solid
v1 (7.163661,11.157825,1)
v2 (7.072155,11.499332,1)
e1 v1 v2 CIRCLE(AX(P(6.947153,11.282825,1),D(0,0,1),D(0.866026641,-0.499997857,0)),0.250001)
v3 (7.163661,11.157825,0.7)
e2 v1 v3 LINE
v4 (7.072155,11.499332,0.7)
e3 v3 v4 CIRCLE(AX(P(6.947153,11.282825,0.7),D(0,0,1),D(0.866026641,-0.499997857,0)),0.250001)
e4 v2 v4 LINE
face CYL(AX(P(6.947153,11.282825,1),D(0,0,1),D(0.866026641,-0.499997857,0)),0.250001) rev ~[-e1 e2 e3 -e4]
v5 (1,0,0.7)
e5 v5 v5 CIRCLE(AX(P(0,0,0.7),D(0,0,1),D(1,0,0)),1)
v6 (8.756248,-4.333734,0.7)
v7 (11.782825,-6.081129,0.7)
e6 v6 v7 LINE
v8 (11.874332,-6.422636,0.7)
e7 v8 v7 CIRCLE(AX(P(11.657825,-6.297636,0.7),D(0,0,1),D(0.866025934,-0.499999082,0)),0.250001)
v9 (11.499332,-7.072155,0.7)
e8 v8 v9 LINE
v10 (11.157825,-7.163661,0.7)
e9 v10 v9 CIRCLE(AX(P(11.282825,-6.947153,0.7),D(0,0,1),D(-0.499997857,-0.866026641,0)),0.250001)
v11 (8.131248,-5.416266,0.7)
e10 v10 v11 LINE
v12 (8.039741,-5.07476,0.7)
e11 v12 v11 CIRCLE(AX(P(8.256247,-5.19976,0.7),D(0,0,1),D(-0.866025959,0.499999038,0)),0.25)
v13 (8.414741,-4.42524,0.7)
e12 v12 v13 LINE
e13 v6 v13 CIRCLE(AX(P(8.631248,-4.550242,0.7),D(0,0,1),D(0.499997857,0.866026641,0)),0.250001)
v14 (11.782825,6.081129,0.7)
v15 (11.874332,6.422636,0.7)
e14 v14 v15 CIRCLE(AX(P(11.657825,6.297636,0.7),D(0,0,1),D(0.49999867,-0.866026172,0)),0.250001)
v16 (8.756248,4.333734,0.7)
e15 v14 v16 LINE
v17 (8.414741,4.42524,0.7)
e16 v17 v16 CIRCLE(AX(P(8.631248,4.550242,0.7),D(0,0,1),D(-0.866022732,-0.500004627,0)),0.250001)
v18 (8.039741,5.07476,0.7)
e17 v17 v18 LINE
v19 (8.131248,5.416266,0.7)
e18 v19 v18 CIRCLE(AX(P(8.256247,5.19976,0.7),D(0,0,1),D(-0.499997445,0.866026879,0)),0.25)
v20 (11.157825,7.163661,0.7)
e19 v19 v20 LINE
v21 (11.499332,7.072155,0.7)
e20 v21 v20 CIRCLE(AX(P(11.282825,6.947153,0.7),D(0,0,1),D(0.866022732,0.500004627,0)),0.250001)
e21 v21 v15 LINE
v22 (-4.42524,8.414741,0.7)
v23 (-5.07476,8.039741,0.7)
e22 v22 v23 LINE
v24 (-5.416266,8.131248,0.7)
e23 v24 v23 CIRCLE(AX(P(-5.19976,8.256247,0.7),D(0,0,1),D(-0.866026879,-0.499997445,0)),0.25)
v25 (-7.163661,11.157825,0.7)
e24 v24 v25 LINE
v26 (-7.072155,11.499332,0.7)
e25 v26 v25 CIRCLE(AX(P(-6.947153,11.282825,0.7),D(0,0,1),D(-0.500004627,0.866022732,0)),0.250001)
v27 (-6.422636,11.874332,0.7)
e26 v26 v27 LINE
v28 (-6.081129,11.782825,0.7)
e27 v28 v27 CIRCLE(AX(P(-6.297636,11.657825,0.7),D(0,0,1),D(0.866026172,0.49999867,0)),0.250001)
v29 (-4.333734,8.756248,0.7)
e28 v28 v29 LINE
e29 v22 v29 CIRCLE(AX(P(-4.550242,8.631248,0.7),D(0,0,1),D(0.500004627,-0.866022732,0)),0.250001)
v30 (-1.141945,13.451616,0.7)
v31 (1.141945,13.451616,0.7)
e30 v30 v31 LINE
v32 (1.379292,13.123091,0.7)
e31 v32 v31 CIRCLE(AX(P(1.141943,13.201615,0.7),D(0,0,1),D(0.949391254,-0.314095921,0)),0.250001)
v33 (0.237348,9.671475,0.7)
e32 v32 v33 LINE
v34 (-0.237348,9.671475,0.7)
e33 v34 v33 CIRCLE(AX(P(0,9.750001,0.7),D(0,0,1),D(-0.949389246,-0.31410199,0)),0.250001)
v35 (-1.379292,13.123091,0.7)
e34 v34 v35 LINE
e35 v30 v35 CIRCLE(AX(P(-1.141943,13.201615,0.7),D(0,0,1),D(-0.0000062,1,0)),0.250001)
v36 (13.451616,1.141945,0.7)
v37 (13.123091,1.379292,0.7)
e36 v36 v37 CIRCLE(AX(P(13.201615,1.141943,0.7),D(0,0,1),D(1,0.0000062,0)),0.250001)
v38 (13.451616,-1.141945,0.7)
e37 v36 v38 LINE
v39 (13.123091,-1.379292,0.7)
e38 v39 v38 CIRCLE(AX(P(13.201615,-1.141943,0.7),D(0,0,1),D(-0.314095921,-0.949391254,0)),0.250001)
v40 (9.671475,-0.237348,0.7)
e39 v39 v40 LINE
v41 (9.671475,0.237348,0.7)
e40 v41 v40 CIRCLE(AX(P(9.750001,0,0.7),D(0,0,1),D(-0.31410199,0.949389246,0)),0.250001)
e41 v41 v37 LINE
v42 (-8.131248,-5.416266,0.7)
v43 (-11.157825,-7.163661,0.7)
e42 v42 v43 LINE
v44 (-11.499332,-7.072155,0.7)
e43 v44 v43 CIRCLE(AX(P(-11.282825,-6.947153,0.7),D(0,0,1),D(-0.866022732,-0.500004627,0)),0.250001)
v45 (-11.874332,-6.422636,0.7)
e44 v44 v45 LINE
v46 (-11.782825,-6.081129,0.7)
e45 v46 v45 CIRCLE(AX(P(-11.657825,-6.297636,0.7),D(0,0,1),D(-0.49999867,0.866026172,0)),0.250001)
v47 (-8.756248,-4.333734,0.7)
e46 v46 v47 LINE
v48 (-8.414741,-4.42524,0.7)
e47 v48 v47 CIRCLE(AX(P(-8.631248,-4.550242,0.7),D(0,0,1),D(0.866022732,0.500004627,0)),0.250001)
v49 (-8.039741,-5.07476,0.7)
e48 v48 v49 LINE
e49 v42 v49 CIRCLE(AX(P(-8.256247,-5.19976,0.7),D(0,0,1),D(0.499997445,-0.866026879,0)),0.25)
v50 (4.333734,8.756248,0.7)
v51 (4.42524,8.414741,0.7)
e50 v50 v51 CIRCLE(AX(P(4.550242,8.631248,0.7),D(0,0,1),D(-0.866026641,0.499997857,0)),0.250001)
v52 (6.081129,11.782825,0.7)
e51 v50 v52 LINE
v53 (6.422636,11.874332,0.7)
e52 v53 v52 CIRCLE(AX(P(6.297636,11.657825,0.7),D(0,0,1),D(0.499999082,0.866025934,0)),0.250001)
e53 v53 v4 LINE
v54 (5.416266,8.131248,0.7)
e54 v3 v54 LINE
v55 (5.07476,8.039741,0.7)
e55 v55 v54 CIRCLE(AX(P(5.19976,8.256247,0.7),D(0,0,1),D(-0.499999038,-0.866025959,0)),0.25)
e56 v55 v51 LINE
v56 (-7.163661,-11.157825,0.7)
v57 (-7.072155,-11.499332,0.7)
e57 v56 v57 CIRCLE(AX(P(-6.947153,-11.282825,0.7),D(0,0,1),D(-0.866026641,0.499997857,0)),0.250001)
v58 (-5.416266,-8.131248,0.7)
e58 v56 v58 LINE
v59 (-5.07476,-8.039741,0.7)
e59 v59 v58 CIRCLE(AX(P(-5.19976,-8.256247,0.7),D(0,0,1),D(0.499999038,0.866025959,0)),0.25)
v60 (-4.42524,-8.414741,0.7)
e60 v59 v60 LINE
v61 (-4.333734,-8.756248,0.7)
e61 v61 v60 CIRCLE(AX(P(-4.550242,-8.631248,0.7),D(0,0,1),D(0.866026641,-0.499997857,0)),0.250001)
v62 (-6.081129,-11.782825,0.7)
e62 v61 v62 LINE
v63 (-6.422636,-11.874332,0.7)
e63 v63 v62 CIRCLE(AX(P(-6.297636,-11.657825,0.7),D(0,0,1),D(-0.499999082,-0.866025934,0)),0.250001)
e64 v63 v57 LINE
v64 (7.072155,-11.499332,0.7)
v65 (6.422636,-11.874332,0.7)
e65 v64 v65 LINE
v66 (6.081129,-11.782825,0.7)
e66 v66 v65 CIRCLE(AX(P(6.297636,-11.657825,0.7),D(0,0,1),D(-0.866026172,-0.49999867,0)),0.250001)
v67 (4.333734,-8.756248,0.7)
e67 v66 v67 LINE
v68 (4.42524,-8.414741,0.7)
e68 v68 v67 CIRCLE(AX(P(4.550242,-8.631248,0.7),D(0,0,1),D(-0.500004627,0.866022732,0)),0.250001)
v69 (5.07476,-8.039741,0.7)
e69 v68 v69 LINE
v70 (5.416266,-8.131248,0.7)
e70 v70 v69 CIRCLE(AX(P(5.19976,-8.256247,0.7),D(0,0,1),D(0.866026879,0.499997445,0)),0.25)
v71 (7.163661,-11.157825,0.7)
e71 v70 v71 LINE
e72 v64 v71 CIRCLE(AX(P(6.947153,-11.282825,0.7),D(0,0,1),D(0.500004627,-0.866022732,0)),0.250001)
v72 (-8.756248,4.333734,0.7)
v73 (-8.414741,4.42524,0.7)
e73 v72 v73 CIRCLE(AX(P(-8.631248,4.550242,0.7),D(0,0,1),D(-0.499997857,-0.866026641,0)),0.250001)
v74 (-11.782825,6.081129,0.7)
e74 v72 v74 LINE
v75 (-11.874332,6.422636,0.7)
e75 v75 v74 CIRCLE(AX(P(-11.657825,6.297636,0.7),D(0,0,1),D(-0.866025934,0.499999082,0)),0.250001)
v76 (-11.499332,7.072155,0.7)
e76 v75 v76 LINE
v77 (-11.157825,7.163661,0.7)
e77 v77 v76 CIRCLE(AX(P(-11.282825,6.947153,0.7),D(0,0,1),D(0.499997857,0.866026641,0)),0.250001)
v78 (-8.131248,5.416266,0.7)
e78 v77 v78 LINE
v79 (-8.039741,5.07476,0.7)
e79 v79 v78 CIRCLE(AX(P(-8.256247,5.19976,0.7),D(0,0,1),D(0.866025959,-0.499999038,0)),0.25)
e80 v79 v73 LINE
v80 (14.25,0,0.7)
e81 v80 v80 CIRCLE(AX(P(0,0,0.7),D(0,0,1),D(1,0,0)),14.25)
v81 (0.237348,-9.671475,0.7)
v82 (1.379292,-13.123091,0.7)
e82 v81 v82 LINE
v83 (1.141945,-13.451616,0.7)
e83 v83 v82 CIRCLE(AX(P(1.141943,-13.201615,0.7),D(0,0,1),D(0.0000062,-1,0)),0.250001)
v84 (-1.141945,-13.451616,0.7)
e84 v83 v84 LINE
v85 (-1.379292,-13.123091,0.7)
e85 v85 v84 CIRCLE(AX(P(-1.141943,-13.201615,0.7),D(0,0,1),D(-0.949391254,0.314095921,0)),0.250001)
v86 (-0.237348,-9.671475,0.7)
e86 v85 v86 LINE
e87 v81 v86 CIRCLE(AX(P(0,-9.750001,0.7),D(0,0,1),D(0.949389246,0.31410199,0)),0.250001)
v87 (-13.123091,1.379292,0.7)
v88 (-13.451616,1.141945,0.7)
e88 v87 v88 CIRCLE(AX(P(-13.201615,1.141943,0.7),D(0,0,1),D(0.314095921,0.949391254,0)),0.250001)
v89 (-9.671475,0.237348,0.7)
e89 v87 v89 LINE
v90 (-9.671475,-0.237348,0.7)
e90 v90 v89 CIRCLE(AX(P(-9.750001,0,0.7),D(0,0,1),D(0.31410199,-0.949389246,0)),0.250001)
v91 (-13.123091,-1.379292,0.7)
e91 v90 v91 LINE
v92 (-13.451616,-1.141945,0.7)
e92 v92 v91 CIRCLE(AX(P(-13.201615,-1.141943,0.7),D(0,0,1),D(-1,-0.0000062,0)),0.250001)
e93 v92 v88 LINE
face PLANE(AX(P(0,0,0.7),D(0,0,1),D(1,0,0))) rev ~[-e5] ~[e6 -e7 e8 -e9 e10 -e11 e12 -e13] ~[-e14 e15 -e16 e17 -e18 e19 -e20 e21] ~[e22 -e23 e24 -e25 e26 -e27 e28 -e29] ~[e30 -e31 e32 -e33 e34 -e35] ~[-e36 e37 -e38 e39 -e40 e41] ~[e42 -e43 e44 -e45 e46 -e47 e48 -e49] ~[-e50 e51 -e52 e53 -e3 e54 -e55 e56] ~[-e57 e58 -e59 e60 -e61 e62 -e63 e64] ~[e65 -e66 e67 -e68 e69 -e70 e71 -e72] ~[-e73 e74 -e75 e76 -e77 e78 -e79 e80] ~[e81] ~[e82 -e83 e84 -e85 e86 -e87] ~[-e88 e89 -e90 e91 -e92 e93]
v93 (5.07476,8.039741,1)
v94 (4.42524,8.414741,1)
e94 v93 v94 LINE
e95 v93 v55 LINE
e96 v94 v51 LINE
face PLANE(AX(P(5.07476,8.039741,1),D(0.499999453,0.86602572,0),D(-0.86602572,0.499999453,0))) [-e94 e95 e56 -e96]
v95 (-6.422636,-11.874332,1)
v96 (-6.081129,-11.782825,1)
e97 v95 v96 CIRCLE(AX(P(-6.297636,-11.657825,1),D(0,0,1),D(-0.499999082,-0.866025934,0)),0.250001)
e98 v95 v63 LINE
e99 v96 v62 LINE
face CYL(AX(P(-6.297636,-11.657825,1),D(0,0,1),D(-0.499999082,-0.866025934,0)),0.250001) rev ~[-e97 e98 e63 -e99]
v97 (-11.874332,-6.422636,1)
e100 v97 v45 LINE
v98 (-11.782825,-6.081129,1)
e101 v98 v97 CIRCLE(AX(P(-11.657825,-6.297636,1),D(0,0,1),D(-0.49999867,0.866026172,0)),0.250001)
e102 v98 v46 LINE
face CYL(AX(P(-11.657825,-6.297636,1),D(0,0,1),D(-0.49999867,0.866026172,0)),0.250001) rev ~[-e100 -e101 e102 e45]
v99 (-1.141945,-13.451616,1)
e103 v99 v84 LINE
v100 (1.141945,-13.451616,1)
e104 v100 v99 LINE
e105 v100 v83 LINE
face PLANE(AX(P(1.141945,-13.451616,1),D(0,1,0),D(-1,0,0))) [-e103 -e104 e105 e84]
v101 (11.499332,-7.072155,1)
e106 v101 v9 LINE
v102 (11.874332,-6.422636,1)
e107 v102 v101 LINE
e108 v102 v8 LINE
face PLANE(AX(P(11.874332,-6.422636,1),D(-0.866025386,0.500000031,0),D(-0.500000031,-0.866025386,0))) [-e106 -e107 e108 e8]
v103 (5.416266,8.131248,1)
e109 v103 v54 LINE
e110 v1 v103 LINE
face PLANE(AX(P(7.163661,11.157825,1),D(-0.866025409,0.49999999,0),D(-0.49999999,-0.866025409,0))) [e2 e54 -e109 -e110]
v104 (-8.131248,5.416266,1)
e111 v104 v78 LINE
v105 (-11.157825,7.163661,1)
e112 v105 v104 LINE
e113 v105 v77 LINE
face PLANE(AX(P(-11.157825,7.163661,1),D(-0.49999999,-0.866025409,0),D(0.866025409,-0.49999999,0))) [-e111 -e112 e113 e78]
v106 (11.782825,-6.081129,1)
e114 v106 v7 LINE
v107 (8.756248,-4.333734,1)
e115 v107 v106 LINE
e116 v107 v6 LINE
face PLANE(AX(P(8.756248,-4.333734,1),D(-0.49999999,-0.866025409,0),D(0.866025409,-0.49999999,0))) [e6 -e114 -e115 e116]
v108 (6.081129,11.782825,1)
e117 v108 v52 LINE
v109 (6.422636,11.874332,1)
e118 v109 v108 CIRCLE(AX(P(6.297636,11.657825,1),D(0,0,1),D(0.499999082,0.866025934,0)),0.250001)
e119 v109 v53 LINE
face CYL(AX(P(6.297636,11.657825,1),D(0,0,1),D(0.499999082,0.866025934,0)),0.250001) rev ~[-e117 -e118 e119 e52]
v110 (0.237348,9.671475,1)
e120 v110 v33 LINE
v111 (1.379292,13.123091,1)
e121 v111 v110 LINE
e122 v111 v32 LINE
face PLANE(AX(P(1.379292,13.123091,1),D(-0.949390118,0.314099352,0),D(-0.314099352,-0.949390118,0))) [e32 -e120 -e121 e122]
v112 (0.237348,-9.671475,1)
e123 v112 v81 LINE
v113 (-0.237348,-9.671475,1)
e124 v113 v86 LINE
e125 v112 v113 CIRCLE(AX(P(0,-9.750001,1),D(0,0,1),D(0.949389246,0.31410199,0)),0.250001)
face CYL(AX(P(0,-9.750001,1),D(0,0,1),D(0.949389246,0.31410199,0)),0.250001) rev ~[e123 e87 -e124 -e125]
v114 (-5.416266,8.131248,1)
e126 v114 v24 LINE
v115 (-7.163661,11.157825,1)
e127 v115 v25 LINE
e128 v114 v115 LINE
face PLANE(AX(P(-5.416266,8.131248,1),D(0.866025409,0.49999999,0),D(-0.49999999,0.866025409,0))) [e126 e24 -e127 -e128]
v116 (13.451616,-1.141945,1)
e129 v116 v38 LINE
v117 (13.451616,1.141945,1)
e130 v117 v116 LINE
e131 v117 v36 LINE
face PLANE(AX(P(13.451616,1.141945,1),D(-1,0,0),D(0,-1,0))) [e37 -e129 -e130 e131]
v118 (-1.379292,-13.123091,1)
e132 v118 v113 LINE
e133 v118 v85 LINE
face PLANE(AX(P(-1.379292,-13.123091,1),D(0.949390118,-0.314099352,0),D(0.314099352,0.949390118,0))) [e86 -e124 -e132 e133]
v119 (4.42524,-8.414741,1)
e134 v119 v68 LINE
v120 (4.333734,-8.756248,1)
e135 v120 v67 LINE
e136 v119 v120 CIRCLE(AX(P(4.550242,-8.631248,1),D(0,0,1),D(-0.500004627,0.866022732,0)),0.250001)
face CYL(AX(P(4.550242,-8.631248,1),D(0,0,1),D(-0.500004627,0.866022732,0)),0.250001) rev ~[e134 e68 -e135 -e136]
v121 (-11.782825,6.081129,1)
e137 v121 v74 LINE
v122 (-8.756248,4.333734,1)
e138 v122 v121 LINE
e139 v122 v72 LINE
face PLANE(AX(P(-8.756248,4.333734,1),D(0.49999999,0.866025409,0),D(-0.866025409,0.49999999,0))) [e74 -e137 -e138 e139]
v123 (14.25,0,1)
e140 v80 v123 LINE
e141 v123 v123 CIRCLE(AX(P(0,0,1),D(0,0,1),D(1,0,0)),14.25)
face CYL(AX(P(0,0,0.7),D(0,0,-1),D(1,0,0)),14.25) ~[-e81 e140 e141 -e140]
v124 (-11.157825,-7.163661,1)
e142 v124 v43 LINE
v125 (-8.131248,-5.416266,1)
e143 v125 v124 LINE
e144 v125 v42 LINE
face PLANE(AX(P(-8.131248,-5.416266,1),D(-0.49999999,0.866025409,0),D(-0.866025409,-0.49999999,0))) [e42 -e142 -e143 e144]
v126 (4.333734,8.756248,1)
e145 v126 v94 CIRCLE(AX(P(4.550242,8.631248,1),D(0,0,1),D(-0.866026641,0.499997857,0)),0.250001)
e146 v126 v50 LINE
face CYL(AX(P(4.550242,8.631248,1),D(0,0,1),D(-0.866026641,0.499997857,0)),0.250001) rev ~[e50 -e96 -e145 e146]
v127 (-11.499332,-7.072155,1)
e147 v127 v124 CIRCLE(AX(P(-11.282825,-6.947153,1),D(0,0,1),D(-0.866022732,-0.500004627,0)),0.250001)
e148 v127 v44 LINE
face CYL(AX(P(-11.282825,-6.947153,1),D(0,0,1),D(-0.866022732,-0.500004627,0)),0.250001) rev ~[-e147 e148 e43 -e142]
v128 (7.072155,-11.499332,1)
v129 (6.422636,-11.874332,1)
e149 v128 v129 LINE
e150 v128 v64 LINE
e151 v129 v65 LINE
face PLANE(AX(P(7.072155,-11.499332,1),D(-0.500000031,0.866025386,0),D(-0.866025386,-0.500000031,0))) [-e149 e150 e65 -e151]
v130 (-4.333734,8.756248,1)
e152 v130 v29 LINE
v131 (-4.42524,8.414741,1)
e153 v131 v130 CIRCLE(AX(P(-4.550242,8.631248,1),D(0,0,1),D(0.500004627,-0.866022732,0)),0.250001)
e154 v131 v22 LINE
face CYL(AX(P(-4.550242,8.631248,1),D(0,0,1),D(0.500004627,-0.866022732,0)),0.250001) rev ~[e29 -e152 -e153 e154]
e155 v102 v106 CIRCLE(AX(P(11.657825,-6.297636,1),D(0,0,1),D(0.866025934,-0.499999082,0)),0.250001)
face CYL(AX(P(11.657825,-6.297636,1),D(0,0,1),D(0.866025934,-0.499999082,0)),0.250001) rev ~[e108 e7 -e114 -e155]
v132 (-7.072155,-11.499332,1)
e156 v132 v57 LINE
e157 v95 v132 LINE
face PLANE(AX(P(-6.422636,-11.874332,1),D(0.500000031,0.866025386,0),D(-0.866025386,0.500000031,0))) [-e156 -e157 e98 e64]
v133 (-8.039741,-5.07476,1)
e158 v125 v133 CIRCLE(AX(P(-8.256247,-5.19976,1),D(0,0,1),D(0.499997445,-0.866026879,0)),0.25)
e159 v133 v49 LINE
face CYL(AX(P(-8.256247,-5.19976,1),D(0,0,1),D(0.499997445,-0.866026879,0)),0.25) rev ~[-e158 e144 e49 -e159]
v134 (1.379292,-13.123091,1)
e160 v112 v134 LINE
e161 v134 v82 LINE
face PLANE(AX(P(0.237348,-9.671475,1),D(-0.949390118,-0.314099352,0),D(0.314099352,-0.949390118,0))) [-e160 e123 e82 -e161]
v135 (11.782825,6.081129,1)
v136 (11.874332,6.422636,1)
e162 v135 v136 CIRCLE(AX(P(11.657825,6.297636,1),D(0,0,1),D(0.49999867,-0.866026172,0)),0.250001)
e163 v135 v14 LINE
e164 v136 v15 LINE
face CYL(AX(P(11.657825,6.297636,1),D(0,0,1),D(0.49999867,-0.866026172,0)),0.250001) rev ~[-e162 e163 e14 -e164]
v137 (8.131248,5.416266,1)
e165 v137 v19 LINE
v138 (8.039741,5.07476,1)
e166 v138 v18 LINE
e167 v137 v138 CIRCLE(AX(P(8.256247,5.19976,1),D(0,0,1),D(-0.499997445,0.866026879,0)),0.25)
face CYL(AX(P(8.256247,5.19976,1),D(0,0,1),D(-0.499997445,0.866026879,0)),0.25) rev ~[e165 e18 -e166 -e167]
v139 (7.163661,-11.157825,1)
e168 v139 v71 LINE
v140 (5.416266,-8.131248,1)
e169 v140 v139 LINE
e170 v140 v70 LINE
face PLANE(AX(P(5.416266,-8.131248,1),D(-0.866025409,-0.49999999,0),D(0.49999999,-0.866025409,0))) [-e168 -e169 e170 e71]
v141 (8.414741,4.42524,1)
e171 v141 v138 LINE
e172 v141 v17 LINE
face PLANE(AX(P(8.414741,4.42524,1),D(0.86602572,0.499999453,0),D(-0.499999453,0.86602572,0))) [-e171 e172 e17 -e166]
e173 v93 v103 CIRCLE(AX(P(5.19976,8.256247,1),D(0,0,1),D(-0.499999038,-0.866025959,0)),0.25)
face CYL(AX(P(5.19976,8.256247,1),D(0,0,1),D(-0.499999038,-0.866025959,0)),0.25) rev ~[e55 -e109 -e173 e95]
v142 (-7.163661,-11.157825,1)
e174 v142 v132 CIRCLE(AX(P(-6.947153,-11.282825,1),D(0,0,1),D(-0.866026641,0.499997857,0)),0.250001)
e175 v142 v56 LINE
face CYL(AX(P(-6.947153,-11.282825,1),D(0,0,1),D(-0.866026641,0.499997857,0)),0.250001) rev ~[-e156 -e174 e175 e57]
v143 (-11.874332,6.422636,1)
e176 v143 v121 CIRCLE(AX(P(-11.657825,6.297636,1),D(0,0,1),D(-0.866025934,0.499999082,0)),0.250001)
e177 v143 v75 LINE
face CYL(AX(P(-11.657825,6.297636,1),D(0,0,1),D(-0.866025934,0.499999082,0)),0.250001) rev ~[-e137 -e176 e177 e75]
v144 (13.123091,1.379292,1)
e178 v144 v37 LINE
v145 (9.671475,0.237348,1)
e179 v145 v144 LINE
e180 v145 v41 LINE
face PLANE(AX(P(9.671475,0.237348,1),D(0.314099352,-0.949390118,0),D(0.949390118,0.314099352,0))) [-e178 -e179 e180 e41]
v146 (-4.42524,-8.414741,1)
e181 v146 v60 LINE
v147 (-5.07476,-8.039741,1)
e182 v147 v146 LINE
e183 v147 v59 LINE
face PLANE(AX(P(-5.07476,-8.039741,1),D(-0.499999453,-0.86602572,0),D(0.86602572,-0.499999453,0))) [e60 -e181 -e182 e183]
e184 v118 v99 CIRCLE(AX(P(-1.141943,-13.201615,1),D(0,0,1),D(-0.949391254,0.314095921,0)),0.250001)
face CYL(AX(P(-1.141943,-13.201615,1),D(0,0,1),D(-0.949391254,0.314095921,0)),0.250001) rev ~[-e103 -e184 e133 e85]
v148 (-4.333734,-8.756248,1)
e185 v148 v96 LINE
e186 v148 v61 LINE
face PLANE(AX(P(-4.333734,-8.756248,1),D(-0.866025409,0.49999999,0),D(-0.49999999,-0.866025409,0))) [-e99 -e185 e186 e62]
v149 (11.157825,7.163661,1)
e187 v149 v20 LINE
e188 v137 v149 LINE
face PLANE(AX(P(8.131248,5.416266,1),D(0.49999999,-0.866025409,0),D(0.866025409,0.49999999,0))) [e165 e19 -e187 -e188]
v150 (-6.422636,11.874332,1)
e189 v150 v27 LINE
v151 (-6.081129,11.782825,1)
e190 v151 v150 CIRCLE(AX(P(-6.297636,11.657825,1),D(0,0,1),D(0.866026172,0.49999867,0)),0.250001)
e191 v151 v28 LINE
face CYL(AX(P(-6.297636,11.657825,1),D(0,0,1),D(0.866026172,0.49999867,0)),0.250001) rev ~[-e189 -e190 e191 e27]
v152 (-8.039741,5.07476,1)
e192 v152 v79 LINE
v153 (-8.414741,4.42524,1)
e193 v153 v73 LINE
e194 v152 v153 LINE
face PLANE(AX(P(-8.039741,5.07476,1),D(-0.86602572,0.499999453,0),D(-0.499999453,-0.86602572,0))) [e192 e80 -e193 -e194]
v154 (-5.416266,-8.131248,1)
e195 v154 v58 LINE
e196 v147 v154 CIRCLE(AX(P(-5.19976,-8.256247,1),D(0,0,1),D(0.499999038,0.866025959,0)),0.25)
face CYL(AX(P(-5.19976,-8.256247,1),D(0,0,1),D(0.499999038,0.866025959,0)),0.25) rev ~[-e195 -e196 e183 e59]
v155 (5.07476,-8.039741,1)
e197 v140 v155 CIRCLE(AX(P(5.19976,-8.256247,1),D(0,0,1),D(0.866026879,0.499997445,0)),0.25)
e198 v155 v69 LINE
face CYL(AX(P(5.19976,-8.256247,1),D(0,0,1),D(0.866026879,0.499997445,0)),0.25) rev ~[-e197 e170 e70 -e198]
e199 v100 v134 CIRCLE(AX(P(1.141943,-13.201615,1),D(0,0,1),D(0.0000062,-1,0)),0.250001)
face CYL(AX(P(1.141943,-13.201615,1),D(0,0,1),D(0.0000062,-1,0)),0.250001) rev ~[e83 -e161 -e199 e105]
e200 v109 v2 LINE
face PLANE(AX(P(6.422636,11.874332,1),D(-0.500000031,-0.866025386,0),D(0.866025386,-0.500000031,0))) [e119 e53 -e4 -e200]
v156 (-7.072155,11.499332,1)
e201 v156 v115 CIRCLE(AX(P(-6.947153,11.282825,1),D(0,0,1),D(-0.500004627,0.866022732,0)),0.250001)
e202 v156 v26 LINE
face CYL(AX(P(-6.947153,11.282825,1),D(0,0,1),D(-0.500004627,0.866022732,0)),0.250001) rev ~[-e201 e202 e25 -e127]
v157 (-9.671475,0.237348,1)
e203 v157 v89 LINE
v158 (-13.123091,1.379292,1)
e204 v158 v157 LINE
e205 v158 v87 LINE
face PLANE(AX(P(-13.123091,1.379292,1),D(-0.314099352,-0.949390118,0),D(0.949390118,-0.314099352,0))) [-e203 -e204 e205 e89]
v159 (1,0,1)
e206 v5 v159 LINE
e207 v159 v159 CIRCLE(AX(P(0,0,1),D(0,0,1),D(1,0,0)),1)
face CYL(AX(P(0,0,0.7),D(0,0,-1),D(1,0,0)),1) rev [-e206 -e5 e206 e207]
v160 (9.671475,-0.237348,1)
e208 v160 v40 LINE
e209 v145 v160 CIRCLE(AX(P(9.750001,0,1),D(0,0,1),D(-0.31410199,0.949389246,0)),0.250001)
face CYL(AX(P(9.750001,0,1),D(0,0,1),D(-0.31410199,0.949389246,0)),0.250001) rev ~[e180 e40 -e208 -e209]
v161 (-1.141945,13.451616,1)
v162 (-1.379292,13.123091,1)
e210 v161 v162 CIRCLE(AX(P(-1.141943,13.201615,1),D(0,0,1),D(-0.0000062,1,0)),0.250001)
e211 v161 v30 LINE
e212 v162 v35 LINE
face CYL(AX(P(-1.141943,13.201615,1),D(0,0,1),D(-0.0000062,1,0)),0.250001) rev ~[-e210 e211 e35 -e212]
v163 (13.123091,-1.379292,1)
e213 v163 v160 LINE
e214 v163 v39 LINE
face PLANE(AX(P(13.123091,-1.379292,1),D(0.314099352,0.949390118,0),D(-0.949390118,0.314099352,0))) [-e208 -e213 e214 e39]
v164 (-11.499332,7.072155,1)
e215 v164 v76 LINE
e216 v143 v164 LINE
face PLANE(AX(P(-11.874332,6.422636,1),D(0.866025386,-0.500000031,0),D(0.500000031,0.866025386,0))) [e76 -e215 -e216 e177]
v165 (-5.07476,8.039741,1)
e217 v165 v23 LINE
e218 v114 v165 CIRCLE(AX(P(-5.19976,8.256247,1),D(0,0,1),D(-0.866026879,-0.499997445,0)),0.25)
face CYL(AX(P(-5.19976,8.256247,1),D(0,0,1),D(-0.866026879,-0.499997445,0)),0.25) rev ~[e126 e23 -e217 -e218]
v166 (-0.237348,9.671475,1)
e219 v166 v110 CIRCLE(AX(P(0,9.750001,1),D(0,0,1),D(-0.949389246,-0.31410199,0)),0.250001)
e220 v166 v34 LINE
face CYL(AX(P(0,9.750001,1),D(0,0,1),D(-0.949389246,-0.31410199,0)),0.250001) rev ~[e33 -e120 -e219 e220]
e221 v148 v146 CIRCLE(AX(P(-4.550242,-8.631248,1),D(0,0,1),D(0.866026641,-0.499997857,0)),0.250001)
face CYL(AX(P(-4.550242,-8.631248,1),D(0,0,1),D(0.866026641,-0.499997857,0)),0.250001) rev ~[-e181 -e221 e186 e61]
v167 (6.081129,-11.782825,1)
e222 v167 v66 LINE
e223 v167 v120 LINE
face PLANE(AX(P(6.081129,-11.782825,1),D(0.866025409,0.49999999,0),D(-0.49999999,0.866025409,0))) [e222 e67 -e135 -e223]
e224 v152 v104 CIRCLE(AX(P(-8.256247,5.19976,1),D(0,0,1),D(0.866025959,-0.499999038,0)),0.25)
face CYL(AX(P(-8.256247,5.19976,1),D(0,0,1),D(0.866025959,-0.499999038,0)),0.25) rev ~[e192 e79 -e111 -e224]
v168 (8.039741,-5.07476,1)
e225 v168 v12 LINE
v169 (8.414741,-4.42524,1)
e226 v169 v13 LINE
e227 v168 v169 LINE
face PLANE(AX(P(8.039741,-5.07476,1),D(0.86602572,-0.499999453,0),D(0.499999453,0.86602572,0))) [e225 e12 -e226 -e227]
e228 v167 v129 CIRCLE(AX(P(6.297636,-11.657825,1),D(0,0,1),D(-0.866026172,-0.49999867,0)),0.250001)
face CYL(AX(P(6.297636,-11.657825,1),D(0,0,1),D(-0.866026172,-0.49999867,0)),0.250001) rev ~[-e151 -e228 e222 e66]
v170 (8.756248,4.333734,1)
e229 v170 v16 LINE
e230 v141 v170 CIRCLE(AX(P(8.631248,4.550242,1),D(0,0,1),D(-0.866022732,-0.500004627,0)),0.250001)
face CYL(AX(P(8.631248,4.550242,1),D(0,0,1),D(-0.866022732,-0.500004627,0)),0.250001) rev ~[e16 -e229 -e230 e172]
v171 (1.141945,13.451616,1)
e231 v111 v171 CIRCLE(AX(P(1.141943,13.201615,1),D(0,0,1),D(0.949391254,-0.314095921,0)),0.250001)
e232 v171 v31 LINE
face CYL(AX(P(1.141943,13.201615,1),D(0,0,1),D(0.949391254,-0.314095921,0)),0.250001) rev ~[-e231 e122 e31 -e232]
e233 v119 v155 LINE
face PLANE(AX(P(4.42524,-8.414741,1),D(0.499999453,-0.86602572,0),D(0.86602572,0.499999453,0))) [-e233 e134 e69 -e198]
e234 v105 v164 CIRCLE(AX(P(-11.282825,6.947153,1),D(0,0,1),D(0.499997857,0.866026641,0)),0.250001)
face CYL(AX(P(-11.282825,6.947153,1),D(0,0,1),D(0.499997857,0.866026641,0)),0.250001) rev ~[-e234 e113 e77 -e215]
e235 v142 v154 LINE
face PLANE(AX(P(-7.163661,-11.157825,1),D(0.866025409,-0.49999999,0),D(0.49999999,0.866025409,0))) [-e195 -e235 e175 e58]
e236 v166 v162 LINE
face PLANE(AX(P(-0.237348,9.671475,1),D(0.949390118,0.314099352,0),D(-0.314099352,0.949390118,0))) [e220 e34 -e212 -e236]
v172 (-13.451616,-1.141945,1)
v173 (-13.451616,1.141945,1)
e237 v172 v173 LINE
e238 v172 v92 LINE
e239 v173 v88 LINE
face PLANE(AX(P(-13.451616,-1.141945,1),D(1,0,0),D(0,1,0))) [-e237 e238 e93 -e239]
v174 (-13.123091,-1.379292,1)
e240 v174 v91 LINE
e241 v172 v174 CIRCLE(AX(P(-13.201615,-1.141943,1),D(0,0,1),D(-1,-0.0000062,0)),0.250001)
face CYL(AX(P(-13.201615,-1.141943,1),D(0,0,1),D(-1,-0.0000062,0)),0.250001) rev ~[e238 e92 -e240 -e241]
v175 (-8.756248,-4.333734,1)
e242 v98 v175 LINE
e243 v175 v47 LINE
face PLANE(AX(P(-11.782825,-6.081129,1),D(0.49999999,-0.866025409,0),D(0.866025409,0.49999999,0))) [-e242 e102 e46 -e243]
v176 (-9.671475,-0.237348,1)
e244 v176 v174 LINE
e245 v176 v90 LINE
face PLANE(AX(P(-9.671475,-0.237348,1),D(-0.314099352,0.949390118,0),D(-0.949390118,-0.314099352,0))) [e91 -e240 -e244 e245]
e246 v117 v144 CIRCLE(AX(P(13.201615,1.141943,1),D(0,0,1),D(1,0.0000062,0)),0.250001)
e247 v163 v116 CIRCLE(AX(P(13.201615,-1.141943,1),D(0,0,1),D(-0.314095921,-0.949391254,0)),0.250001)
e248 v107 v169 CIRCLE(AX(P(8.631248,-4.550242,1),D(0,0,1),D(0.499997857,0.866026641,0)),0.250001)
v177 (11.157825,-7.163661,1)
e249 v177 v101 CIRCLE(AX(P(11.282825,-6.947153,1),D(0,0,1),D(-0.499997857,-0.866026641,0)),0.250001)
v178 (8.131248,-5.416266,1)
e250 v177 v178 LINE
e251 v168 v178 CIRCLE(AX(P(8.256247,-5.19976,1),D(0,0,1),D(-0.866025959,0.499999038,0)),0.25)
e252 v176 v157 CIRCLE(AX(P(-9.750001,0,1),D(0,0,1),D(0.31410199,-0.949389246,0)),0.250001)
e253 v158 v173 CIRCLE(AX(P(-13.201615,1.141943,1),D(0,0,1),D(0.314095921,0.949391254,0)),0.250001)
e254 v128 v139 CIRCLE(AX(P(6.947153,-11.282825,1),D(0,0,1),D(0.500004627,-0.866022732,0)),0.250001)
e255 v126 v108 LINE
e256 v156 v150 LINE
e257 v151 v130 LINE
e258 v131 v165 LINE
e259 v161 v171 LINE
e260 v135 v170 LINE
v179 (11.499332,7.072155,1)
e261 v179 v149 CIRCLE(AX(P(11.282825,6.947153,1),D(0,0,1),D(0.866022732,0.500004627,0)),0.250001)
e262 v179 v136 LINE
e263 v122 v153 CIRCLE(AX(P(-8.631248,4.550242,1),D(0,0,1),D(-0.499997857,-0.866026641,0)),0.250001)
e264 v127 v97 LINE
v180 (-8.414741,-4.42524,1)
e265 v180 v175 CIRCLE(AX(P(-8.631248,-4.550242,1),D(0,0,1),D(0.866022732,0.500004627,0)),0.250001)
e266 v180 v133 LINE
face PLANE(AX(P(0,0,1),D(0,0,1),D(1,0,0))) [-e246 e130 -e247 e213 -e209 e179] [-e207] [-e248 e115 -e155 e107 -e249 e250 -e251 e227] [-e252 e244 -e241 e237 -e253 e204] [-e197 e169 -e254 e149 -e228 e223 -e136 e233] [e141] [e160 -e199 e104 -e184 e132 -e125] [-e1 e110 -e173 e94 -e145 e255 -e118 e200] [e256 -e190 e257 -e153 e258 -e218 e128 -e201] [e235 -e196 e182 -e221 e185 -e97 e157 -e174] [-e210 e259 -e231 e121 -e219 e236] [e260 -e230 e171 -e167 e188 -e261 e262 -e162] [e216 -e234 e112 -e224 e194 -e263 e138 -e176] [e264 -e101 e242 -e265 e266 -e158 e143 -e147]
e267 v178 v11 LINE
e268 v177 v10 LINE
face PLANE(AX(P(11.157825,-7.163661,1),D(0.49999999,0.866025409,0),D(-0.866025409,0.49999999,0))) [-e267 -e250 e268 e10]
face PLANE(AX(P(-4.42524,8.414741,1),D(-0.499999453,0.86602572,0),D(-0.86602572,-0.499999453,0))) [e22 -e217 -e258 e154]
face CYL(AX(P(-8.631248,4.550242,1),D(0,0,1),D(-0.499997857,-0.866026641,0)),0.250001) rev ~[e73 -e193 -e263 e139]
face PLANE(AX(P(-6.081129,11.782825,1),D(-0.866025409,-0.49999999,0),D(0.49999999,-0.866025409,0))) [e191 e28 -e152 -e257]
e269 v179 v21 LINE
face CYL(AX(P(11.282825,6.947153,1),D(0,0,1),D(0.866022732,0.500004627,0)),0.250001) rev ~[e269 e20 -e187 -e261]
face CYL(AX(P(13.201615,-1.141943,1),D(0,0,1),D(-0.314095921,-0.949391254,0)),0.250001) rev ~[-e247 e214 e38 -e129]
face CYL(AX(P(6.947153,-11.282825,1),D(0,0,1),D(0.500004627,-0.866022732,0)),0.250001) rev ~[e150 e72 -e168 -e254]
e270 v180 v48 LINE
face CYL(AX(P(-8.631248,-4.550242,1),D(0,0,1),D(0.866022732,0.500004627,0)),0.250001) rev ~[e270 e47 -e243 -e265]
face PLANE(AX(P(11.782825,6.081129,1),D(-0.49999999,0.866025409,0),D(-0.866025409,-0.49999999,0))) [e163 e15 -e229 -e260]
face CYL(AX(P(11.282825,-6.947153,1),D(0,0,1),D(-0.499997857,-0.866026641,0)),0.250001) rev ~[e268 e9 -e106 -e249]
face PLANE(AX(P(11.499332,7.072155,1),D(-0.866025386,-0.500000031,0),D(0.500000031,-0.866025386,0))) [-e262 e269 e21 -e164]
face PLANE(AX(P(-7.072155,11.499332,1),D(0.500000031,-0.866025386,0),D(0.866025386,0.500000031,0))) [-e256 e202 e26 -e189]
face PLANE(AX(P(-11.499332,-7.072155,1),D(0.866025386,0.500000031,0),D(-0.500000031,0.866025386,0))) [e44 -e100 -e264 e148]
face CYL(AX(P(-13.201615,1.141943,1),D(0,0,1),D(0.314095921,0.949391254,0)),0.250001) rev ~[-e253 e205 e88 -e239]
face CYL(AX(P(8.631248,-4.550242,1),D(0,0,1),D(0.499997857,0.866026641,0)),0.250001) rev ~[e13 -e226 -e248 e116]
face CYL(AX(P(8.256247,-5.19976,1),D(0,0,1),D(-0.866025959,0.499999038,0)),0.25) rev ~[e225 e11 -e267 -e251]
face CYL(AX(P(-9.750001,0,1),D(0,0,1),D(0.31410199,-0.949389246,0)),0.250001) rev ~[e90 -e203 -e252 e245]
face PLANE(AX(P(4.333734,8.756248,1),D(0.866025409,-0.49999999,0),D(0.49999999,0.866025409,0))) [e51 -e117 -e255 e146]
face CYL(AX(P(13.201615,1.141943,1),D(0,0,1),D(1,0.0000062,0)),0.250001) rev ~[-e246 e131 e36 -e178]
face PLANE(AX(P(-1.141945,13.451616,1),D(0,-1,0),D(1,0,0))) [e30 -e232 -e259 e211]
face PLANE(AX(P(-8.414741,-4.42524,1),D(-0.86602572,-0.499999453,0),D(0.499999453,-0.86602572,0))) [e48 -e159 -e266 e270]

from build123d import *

# Parameters (mm, degrees)
SKETCH031_R        = 14.25
SKETCH031_R_2      = 1
PAD007_DEPTH       = 0.3
POCKET_DEPTH       = 80.913406
POLARPATTERN_COUNT = 4


with BuildPart() as part:
    # Sketch031 → Pad007 (new body)
    with BuildSketch(Plane.XY.offset(0.7)):
        Circle(SKETCH031_R)
        Circle(SKETCH031_R_2, mode=Mode.SUBTRACT)
    extrude(amount=PAD007_DEPTH)

    # Sketch → Pocket (cut, through all)
    with BuildSketch(Plane.XY.offset(1)):
        with BuildLine():
            Line((-1.141945, 13.451616), (1.141945, 13.451616))
            ThreePointArc((1.379292, 13.123091), (1.344591, 13.34802), (1.141945, 13.451616))
            Line((1.379292, 13.123091), (0.237348, 9.671475))
            ThreePointArc((-0.237348, 9.671475), (0, 9.5), (0.237348, 9.671475))
            Line((-0.237348, 9.671475), (-1.379292, 13.123091))
            ThreePointArc((-1.141945, 13.451616), (-1.344591, 13.34802), (-1.379292, 13.123091))
        make_face()
        with BuildLine():
            Line((4.333734, 8.756248), (6.081129, 11.782825))
            ThreePointArc((6.422636, 11.874332), (6.232931, 11.899307), (6.081129, 11.782825))
            Line((6.422636, 11.874332), (7.072155, 11.499332))
            ThreePointArc((7.163661, 11.157825), (7.188636, 11.34753), (7.072155, 11.499332))
            Line((7.163661, 11.157825), (5.416266, 8.131248))
            ThreePointArc((5.07476, 8.039741), (5.264464, 8.014766), (5.416266, 8.131248))
            Line((5.07476, 8.039741), (4.42524, 8.414741))
            ThreePointArc((4.333734, 8.756248), (4.308759, 8.566543), (4.42524, 8.414741))
        make_face()
        with BuildLine():
            Line((8.131248, 5.416266), (11.157825, 7.163661))
            ThreePointArc((11.499332, 7.072155), (11.34753, 7.188636), (11.157825, 7.163661))
            Line((11.499332, 7.072155), (11.874332, 6.422636))
            ThreePointArc((11.782825, 6.081129), (11.899307, 6.232931), (11.874332, 6.422636))
            Line((11.782825, 6.081129), (8.756248, 4.333734))
            ThreePointArc((8.414741, 4.42524), (8.566543, 4.308759), (8.756248, 4.333734))
            Line((8.414741, 4.42524), (8.039741, 5.07476))
            ThreePointArc((8.131248, 5.416266), (8.014766, 5.264464), (8.039741, 5.07476))
        make_face()
    pocket = extrude(amount=-POCKET_DEPTH, mode=Mode.SUBTRACT)

    # PolarPattern: Pocket ×4 about axis
    polarpattern_axis = Axis((0, 0, 1), (0, 0, 1))
    for i in range(1, POLARPATTERN_COUNT):
        add(pocket.rotate(polarpattern_axis, i * 360 / POLARPATTERN_COUNT), mode=Mode.SUBTRACT)


solid = part.part
